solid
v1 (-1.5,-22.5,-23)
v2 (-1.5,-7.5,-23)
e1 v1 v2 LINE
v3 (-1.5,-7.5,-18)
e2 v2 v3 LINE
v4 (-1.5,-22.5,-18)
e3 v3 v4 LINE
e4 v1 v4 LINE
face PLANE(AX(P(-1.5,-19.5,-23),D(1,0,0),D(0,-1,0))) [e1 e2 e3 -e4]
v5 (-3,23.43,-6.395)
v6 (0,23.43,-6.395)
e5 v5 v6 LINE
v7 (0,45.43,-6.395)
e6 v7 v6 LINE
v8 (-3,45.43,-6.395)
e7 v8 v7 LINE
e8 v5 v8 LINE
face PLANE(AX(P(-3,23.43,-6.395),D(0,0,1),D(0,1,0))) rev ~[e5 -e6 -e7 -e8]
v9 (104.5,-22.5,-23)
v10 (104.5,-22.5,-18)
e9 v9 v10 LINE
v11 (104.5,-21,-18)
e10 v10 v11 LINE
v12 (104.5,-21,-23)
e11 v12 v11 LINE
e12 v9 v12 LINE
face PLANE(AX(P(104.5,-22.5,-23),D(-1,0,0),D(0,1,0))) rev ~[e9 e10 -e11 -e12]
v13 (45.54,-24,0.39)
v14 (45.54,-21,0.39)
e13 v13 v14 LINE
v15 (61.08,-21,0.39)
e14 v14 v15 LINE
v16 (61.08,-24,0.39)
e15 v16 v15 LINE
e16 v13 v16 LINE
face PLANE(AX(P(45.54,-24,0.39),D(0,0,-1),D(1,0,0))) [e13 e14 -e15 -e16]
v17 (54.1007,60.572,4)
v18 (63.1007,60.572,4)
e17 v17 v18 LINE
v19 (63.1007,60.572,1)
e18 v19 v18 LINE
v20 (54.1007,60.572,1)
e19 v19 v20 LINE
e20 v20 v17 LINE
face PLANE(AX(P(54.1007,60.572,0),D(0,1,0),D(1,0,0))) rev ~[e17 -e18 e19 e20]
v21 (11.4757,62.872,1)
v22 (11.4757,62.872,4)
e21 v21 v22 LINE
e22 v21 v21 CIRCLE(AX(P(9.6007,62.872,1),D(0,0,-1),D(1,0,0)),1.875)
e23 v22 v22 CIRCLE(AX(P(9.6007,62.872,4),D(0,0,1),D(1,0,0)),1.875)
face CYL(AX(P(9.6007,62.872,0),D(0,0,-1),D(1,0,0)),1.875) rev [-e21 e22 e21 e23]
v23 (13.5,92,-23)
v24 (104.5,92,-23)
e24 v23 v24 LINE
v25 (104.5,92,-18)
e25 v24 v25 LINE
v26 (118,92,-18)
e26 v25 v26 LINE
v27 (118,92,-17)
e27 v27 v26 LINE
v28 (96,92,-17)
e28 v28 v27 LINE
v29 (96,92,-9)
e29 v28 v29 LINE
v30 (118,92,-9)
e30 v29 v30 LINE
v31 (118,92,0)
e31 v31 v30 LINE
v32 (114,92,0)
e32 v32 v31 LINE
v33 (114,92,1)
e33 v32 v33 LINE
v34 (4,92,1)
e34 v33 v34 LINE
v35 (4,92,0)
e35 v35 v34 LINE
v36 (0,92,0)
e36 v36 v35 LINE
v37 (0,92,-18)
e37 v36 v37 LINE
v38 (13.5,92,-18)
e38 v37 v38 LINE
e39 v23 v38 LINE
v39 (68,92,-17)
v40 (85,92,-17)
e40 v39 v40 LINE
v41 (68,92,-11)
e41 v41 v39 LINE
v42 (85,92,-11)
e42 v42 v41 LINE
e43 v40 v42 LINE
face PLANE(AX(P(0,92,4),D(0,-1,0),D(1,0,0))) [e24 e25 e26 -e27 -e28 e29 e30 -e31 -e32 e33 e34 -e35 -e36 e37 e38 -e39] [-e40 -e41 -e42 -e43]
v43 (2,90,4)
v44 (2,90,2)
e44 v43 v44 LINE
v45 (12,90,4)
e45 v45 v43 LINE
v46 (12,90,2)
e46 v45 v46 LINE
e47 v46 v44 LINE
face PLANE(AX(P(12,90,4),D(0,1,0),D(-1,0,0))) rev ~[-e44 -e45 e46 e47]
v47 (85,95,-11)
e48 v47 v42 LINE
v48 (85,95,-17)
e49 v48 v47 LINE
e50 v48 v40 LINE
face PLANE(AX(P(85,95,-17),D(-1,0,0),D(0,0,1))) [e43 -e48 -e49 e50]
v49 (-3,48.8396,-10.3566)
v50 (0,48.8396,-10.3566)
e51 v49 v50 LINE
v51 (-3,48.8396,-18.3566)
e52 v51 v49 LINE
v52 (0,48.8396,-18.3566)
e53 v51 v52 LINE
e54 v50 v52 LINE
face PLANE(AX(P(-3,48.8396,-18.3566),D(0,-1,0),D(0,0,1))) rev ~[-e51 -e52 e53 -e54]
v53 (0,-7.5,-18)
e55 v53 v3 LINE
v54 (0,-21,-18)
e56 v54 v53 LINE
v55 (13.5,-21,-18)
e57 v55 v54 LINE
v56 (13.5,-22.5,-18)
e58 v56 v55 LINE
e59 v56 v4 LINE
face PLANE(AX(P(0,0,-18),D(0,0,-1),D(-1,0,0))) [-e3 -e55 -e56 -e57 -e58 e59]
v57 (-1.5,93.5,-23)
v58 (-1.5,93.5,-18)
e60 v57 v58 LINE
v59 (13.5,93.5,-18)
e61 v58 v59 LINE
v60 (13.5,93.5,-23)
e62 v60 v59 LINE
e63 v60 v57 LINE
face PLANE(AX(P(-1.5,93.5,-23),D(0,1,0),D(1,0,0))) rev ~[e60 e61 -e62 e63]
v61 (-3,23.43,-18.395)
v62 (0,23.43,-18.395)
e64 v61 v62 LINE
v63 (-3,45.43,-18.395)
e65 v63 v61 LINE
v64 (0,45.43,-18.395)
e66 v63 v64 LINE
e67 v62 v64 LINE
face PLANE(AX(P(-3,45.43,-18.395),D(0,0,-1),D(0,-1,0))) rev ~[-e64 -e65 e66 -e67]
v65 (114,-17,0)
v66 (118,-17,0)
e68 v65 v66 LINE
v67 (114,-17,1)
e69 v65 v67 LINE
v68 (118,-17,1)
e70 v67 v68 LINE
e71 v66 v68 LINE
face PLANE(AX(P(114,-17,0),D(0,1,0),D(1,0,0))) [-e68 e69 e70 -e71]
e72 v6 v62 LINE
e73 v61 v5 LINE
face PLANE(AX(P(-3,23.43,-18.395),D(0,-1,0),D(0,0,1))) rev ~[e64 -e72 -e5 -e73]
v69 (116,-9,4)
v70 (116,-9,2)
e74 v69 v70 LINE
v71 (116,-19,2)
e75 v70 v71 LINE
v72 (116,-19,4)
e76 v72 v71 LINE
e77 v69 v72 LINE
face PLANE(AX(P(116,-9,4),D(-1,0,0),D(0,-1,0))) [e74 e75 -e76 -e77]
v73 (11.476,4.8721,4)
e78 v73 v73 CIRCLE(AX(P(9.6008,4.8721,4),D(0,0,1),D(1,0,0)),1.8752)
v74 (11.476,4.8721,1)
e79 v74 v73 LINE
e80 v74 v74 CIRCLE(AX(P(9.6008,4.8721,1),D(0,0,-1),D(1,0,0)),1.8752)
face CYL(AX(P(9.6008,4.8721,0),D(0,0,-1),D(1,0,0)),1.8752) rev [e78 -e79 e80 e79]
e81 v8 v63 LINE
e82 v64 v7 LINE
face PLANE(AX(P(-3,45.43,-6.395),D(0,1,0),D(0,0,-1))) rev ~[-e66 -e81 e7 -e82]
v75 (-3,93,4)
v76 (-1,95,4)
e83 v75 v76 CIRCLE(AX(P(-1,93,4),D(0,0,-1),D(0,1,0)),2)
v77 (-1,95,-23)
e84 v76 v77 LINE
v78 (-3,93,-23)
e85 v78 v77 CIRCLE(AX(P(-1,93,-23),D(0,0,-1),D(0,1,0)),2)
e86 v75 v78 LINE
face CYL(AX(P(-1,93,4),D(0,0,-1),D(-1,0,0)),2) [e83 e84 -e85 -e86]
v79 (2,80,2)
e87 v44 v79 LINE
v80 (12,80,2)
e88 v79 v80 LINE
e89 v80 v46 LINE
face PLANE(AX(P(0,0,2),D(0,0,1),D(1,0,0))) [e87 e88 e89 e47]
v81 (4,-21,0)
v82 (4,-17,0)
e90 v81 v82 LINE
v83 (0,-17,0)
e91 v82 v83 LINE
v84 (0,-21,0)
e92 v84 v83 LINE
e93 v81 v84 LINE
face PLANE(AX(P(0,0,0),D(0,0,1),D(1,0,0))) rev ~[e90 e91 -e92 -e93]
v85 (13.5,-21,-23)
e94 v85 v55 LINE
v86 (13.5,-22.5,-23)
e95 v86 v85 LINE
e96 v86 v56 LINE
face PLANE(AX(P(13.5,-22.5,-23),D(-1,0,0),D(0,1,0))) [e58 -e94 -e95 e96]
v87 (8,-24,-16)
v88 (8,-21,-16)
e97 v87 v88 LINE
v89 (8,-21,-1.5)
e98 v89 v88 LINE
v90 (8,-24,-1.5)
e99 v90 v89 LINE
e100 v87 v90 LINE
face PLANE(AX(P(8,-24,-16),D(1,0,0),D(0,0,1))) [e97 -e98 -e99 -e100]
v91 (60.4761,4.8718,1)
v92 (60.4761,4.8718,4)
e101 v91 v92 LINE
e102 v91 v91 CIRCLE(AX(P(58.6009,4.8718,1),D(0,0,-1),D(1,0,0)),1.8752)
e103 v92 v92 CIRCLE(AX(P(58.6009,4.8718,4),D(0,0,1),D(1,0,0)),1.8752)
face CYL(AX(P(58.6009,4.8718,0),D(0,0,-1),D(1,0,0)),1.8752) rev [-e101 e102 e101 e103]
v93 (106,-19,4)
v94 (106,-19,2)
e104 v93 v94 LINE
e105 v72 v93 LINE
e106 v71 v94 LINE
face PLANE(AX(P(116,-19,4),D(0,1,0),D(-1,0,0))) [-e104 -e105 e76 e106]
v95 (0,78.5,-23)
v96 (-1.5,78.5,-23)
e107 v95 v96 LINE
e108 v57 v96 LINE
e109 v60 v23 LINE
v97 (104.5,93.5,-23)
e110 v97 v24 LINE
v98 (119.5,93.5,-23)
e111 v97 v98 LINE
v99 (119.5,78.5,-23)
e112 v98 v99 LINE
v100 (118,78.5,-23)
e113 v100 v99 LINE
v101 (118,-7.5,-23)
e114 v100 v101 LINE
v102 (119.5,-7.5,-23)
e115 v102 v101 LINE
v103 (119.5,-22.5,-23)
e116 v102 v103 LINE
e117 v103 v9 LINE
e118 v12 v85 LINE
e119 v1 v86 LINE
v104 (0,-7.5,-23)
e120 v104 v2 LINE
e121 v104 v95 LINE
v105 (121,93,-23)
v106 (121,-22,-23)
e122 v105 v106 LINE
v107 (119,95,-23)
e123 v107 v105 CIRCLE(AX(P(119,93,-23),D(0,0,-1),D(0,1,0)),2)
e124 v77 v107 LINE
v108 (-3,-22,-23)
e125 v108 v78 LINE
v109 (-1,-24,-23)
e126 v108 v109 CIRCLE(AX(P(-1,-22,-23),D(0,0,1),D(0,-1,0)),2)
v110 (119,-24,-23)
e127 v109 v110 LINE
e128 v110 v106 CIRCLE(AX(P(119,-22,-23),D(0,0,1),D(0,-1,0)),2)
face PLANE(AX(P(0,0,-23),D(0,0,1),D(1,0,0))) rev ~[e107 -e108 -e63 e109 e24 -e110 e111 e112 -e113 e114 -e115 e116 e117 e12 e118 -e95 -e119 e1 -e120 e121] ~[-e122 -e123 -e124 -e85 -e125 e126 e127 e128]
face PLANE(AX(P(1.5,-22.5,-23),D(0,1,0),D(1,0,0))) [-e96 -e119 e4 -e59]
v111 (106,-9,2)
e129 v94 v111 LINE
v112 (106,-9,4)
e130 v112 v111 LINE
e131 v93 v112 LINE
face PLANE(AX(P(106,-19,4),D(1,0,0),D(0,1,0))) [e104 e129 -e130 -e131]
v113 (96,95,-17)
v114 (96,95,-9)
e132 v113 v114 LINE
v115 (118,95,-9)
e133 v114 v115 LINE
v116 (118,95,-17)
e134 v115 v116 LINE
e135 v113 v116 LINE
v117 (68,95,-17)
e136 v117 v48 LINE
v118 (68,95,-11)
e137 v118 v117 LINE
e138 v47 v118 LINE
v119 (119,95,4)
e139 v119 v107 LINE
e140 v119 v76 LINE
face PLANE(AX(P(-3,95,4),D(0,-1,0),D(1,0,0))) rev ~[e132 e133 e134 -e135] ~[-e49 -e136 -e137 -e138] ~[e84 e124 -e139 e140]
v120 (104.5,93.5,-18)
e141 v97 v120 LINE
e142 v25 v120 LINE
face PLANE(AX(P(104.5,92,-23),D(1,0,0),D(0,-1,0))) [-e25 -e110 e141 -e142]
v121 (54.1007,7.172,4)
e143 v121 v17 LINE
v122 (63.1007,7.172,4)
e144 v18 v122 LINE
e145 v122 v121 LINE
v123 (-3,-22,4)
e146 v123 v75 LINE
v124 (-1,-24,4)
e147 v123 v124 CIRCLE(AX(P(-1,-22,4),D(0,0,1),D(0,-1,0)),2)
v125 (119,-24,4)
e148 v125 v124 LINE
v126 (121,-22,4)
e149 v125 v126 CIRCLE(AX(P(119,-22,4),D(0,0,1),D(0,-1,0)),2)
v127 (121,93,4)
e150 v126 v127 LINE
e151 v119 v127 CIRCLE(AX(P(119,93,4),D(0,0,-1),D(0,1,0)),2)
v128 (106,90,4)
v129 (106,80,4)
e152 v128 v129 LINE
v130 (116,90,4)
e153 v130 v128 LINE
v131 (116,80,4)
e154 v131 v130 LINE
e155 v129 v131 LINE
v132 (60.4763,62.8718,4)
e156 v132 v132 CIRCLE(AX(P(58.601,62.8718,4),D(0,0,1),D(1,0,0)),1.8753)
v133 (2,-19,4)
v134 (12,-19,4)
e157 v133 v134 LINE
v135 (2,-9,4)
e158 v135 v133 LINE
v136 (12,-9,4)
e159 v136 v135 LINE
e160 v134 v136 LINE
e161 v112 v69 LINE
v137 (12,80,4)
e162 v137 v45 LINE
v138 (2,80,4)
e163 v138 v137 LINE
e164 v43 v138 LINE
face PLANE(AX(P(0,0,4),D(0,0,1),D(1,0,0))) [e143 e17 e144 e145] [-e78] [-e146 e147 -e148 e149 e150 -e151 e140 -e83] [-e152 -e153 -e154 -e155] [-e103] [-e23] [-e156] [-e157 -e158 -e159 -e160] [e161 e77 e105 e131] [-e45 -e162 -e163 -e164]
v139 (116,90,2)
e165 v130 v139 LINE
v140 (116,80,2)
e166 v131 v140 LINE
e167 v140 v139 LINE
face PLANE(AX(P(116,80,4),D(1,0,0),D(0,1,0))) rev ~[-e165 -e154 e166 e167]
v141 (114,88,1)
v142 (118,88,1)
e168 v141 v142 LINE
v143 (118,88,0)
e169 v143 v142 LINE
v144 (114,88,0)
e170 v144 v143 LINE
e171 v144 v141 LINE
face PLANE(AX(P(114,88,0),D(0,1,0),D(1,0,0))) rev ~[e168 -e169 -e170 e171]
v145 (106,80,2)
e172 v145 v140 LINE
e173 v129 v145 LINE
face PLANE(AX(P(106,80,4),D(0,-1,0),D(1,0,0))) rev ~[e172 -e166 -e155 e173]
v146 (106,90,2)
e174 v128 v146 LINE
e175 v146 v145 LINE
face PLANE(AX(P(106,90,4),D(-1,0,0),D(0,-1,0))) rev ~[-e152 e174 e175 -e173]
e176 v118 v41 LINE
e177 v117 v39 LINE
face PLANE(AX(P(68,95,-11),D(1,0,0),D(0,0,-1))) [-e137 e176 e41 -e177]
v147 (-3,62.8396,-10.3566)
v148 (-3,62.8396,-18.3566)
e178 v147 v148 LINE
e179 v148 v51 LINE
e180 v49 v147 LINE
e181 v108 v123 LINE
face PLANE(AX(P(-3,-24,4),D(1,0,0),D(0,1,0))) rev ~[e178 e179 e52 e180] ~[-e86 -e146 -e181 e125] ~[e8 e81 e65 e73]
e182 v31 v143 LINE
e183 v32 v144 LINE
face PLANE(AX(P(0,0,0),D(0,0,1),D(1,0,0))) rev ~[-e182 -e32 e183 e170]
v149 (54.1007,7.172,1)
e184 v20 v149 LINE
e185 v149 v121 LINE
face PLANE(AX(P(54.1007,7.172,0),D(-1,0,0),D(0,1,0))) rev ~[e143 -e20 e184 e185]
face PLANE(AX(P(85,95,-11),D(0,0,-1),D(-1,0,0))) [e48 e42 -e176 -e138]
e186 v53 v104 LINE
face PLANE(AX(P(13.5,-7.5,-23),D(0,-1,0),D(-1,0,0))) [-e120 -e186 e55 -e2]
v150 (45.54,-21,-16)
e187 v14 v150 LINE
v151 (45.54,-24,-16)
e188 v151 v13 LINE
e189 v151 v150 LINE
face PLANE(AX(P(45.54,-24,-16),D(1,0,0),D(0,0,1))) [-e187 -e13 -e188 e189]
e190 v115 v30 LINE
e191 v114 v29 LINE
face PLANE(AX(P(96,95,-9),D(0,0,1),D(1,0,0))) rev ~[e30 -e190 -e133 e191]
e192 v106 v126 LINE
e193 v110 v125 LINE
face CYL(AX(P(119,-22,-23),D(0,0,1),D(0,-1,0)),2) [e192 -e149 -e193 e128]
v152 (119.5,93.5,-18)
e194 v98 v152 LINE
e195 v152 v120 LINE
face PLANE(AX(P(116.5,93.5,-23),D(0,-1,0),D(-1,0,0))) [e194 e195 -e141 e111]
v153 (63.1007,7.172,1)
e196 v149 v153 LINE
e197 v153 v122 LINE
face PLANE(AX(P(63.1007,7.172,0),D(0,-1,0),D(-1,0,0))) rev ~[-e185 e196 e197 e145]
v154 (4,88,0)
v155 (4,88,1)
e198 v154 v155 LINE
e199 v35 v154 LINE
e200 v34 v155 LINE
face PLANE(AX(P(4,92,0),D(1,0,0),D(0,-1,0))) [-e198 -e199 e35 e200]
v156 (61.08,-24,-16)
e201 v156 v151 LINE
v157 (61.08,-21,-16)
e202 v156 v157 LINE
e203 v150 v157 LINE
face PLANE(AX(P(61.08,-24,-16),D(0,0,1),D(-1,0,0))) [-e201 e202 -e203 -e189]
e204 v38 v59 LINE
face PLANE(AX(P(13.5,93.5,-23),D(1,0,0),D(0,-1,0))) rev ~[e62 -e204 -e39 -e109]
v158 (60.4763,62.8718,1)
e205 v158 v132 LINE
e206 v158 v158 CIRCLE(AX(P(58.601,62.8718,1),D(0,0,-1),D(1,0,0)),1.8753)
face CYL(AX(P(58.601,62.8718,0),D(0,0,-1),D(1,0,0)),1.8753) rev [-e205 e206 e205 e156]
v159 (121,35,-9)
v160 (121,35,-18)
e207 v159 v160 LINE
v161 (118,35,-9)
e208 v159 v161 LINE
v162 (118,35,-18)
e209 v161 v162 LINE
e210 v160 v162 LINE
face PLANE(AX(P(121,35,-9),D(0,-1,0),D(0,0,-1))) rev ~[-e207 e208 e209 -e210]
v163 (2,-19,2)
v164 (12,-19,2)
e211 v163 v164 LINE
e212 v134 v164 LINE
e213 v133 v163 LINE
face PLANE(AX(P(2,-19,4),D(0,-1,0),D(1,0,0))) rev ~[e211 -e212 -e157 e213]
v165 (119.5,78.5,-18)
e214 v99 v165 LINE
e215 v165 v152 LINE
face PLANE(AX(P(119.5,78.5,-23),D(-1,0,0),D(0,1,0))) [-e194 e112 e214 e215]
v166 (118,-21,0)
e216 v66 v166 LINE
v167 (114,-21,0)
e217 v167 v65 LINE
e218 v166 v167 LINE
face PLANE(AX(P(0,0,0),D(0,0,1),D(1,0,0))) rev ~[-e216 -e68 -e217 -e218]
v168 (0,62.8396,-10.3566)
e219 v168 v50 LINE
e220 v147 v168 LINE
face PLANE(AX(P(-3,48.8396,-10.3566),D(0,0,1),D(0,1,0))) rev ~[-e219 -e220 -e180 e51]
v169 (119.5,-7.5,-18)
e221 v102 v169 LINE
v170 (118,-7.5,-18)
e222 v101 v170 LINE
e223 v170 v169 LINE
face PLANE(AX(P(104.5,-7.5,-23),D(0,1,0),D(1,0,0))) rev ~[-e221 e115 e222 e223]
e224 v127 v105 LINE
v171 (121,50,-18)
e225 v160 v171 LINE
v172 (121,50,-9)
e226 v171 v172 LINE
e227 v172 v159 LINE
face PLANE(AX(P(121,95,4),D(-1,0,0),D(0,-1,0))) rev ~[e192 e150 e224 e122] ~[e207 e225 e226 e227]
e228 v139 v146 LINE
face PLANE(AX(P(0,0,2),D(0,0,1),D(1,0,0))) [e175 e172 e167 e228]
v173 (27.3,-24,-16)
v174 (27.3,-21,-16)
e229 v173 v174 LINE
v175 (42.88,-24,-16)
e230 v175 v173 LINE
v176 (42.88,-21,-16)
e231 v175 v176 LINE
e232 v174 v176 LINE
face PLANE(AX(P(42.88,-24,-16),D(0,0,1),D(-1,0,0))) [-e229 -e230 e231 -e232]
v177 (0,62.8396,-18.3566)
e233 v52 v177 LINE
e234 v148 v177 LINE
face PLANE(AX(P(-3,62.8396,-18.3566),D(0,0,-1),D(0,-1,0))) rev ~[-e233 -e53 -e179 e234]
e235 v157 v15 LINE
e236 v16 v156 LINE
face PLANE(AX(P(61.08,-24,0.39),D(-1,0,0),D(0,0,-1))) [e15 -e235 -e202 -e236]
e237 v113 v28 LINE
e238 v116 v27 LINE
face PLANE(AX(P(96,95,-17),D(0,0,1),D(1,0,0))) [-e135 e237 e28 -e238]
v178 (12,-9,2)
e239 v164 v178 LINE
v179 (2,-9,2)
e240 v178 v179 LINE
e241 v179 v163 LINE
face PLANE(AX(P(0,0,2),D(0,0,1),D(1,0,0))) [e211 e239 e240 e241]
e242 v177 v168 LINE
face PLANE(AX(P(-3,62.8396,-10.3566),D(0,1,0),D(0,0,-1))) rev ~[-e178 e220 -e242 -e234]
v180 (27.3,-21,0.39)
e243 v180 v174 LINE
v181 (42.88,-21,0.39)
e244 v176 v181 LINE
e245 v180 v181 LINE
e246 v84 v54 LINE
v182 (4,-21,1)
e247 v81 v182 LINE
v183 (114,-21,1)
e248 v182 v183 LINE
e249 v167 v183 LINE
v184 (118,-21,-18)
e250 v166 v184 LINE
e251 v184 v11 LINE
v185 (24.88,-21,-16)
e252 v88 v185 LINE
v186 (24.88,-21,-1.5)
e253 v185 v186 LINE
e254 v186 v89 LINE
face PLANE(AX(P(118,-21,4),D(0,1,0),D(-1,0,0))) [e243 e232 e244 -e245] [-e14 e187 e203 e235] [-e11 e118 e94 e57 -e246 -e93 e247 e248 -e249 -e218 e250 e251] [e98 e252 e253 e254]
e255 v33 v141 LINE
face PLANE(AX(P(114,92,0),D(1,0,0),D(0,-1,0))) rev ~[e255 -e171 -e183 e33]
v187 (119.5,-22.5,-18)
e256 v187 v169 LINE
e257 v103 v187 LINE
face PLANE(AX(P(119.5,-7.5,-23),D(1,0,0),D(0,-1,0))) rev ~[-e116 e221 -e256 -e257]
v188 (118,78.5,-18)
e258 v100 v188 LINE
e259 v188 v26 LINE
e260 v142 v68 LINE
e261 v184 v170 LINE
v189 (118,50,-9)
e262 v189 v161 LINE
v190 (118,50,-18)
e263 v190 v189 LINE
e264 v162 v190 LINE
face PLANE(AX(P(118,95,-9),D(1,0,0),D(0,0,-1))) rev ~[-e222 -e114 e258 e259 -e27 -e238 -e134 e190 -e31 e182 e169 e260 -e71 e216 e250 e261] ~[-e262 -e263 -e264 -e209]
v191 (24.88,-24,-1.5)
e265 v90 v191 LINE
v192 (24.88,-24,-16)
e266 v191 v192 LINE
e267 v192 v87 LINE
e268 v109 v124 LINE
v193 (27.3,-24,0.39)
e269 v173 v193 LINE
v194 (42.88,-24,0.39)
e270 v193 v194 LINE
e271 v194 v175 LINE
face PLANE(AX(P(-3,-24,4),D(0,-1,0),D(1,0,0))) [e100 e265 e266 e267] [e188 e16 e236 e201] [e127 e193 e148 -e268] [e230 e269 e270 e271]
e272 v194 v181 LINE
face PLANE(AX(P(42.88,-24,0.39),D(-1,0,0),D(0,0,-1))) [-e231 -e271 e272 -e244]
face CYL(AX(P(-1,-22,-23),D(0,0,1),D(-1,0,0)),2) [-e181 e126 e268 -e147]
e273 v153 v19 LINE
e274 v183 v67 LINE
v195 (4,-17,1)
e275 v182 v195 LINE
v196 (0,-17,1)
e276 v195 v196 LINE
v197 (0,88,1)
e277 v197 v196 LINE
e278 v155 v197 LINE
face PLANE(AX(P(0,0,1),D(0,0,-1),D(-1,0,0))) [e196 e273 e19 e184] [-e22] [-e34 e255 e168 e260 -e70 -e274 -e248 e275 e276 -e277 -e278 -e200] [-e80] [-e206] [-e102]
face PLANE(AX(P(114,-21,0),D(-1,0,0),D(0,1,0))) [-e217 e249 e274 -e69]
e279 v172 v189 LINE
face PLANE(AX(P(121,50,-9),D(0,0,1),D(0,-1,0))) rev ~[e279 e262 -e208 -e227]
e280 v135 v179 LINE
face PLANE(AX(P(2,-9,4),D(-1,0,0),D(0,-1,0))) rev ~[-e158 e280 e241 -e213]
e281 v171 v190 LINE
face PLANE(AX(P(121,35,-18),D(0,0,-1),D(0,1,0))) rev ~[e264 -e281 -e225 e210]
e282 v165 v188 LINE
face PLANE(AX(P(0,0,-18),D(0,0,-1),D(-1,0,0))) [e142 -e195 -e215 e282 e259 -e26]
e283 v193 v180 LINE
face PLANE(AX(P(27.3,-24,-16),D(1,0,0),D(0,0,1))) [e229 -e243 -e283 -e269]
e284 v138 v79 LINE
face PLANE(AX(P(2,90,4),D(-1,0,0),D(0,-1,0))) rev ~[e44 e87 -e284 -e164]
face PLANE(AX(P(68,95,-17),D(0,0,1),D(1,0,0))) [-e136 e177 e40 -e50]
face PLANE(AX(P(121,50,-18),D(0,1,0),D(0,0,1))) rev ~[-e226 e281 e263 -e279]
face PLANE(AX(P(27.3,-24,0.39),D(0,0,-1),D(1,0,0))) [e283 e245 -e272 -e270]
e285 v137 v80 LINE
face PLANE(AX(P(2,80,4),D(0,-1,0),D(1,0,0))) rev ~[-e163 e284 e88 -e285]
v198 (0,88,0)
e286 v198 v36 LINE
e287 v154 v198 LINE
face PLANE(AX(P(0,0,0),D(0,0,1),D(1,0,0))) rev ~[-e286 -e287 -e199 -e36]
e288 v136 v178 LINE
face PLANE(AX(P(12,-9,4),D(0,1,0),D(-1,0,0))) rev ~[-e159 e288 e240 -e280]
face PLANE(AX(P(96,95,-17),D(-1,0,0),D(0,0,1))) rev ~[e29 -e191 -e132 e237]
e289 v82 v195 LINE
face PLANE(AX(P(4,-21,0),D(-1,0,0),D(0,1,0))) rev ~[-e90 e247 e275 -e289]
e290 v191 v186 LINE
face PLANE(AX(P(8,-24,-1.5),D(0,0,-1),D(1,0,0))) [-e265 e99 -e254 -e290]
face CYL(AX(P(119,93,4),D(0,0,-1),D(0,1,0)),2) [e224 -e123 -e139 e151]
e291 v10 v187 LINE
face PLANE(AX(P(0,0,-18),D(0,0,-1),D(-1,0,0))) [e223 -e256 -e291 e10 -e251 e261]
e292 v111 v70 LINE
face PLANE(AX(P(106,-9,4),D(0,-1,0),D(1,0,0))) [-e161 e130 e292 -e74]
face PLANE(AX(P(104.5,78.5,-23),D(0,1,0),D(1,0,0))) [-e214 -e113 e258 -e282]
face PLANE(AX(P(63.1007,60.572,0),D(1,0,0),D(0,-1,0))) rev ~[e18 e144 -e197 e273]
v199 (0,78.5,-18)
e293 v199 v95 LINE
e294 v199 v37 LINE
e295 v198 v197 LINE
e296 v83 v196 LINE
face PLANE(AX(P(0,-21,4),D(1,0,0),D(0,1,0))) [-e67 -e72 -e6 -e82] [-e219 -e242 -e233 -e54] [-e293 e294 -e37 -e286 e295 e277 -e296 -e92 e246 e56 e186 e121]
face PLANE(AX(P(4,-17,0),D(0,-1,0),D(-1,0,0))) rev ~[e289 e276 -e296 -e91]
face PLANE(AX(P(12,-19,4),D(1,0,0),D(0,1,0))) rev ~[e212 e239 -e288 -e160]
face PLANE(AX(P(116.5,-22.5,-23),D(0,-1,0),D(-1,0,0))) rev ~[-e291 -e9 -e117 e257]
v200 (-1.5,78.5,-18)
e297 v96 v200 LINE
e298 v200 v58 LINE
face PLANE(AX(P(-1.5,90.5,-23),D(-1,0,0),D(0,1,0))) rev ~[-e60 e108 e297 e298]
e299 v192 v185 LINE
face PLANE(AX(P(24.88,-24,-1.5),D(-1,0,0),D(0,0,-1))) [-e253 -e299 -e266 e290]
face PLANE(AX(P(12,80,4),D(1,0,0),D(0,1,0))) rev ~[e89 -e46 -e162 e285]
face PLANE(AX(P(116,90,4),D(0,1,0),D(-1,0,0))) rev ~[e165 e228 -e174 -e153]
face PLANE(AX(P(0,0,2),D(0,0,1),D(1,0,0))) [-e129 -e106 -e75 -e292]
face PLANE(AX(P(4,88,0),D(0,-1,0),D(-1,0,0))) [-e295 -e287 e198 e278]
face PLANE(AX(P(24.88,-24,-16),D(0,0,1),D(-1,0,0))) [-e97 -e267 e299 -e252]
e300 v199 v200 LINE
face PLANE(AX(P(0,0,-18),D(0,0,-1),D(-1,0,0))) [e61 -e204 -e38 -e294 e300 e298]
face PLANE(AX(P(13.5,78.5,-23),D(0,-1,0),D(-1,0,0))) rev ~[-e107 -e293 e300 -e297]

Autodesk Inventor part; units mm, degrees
ref_plane "YZ Plane" through (0, 0, 0) normal (1, 0, 0) x (0, 1, 0)
ref_plane "XZ Plane" through (0, 0, 0) normal (0, 1, 0) x (-1, 0, 0)
ref_plane "XY Plane" through (0, 0, 0) normal (0, 0, 1) x (1, 0, 0)
sketch "Esquisse1" plane through (0, 0, 0) normal (0, 0, 1) x (1, 0, 0)
  line L0 (0, -47.8) -> (0, 118.8) projected
  line L1 (-27.8, 0) -> (145.8, 0) projected
  line L2 (0, 92) -> (105, 92)
  line L3 (105, 92) -> (105, 0)
  line L4 (105, 0) -> (0, 0)
  line L5 (0, 0) -> (0, 92)
  line L6 (56.1007, 59.272) -> (61.1007, 59.272)
  line L7 (61.1007, 59.272) -> (61.1007, 8.472)
  line L8 (61.1007, 8.472) -> (56.1007, 8.472)
  line L9 (56.1007, 8.472) -> (56.1007, 59.272)
  line L10 (0, 92) -> (118, 92)
  line L11 (118, 92) -> (118, -21)
  line L12 (118, -21) -> (0, -21)
  line L13 (0, -21) -> (0, 92)
  line L14 (54.1007, 60.572) -> (63.1007, 60.572)
  line L15 (63.1007, 60.572) -> (63.1007, 7.172)
  line L16 (63.1007, 7.172) -> (54.1007, 7.172)
  line L17 (54.1007, 7.172) -> (54.1007, 60.572)
  line L18 (-3, 95) -> (121, 95)
  line L19 (121, 95) -> (121, -24)
  line L20 (121, -24) -> (-3, -24)
  line L21 (-3, -24) -> (-3, 95)
  line L22 (0, 92) -> (118, 92)
  line L23 (118, 92) -> (118, -21)
  line L24 (118, -21) -> (0, -21)
  line L25 (0, -21) -> (0, 92)
  line L26 (57.2447, 8.472) -> (59.9567, 8.472) projected
  line L27 (59.9567, 59.272) -> (57.2447, 59.272) projected
  line L28 (56.1007, 33.3434) -> (56.1007, 31.8605) projected
  line L29 (61.1007, 31.8605) -> (61.1007, 33.3434) projected
  circle A0 centre (58.6009, 4.8718) radius 1.3752 projected
  circle A1 centre (58.601, 62.8718) radius 1.3753 projected
  circle A2 centre (9.6007, 62.872) radius 1.375 projected
  circle A3 centre (9.6008, 4.8721) radius 1.3752 projected
  circle A4 centre (9.6008, 4.8721) radius 1.8752
  circle A5 centre (9.6007, 62.872) radius 1.875
  circle A6 centre (58.601, 62.8718) radius 1.8753
  circle A7 centre (58.6009, 4.8718) radius 1.8752
  point P0 (0, 0)
  point P1 (58.6007, 59.272)
  dimension "d0" = 92
  dimension "d1" = 105
  dimension "d6" = 13
  dimension "d7" = 21
  dimension "d8" = 2
  dimension "d9" = 1.3
  dimension "d11" = 1.3
  dimension "d12" = 3
  dimension "d13" = 3
  dimension "d14" = 3
  dimension "d15" = 3
  dimension "d77" = 2
  dimension "d78" = 0.5
  dimension "d79" = 0.5
  dimension "d80" = 0.5
  dimension "d81" = 0.5
extrude "Extrusion1" add sketch "Esquisse1" along normal blind 4 contours L0 L20 L21 L1 | L12 L11 L1 L19 L20 L0 | L0 L1 L11 L12 | L1 L21 L18 L0 | L0 L2 L3 L1 | L0 L18 L19 L1 L11 L10 L2 | L3 L10 L11 L1
sketch "Esquisse2" plane through (0, 0, 4) normal (0, 0, 1) x (1, 0, 0)
  line L0 (-3, -24) -> (121, -24) projected
  line L1 (-3, 95) -> (121, 95)
  line L2 (121, 95) -> (121, -24)
  line L3 (121, -24) -> (-3, -24)
  line L4 (-3, -24) -> (-3, 95)
  line L5 (0, 92) -> (118, 92)
  line L6 (118, 92) -> (118, -21)
  line L7 (118, -21) -> (0, -21)
  line L8 (0, -21) -> (0, 92)
  point P0 (0, 0)
  dimension "d18" = 3
  dimension "d19" = 3
  dimension "d20" = 3
  dimension "d21" = 3
extrude "Extrusion2" add sketch "Esquisse2" against normal blind 27
sketch "Esquisse4" plane through (-3, -24, 4) normal (0, -1, 0) x (1, 0, 0)
  line L0 (27.38, -19.5) -> (27.38, -6) construction
  line L1 (27.38, -6) -> (11.5, -6) construction
  line L2 (11.5, -6) -> (11.5, -19.5) construction
  line L3 (62.1007, -19.5) -> (12.1007, -19.5) construction
  line L4 (9.1005, -19.5) -> (15.101, -19.5) construction
  line L5 (41.19, -4.01) -> (35.19, -4.01) construction
  line L6 (44.5455, -4.11) -> (31.8345, -4.11) construction
  line L7 (41.19, -2.5351) -> (41.19, -5.6849) construction
  line L8 (35.19, -5.6849) -> (35.19, -2.5351) construction
  circle A0 centre (31.94, -4.51) radius 0.4 construction
  line L9 (31.54, -4.4044) -> (31.54, -9.4204) construction
  line L10 (31.3, -5.5007) -> (31.3, -19.2199) construction
  line L11 (31.3, -5.3465) -> (31.3, -5.5636) construction
  line L12 (31.7209, -4.66) -> (31.5122, -4.66) construction
  line L13 (31.7172, -4.66) -> (31.5053, -4.66) construction
  line L14 (30.64, -9.7204) -> (30.64, -12.7204) construction
  line L15 (30.64, -12.7204) -> (31.3599, -12.7204) construction
  line L16 (31.322, -9.7204) -> (30.64, -9.7204) construction
  line L17 (44.44, -9.27) -> (44.44, -14.39) construction
  line L18 (63.74, -12.7204) -> (63.74, -9.7204) construction
  line L19 (63.08, -19.182) -> (63.08, -5.5251) construction
  line L20 (60.2447, -19.5) -> (62.9567, -19.5) construction
  line L21 (63.08, -18.9857) -> (63.08, -19.517) construction
  line L22 (59.1017, -19.5) -> (65.1003, -19.5) construction
  line L23 (63.08, -4.6635) -> (63.08, -6.647) construction
  circle A1 centre (62.4398, -4.5101) radius 0.4002 construction
  line L24 (62.84, -9.4204) -> (62.84, -4.4044) construction
  line L25 (62.8795, -4.66) -> (62.5088, -4.66) construction
  line L26 (63.08, -4.6726) -> (63.08, -4.66) construction
  line L27 (62.5455, -4.11) -> (49.8345, -4.11) construction
  circle A2 centre (49.94, -4.51) radius 0.4 construction
  line L28 (49.54, -4.4044) -> (49.54, -9.4204) construction
  line L29 (64.08, -20) -> (48.54, -20)
  line L30 (48.54, -20) -> (48.54, -3.61)
  line L31 (48.54, -3.61) -> (64.08, -3.61)
  line L32 (64.08, -3.61) -> (64.08, -20)
  line L33 (45.88, -20) -> (30.3, -20)
  line L34 (30.3, -20) -> (30.3, -3.61)
  line L35 (30.3, -3.61) -> (45.88, -3.61)
  line L36 (45.88, -3.61) -> (45.88, -20)
  line L37 (44.88, -5.5659) -> (44.88, -19.1471) projected
  line L38 (27.88, -20) -> (11, -20) construction
  line L39 (11, -20) -> (11, -5.5) construction
  line L40 (11, -5.5) -> (27.88, -5.5) construction
  line L41 (27.88, -5.5) -> (27.88, -20) construction
  line L42 (27.88, -20) -> (11, -20)
  line L43 (11, -20) -> (11, -5.5)
  line L44 (11, -5.5) -> (27.88, -5.5)
  line L45 (27.88, -5.5) -> (27.88, -20)
  point P0 (3, -4)
  dimension "d52" = 0.5
  dimension "d53" = 1
  dimension "d54" = 0.5
  dimension "d55" = 1
  dimension "d56" = 1
  dimension "d57" = 1
  dimension "d59" = 0.5
  dimension "d60" = 0.5
  dimension "d61" = 0.5
  dimension "d62" = 0.5
  dimension "d63" = 0.5
  dimension "d64" = 0.5
extrude "Extrusion4" cut sketch "Esquisse4" against normal blind 27
sketch "Esquisse5" plane through (-3, -24, 4) normal (-1, 0, 0) x (0, 0, 1)
  line L0 (-13.62, 51.6049) -> (-13.62, 65.2689) projected
  line L1 (-19.17, 63.3546) -> (-19.17, 58.0099) projected
  line L2 (-19.17, 57.98) -> (-19.17, 53.5054) projected
  line L3 (-16.9746, 76.7653) -> (-16.9746, 82.8881) projected
  line L4 (-19.7386, 82.3643) -> (-19.7386, 79.9819) projected
  line L5 (-19.7386, 79.6728) -> (-19.7386, 77.3076) projected
  line L6 (-17.0251, 50.93) -> (-14.2949, 50.93) projected
  line L7 (-14.2811, 65.93) -> (-17.0251, 65.93) projected
  line L8 (-18.2776, 75.8396) -> (-17.9619, 75.8396) projected
  line L9 (-17.9553, 83.8204) -> (-18.271, 83.8204) projected
  line L10 (-22.395, 47.43) -> (-10.395, 47.43)
  line L11 (-10.395, 47.43) -> (-10.395, 69.43)
  line L12 (-10.395, 69.43) -> (-22.395, 69.43)
  line L13 (-22.395, 69.43) -> (-22.395, 47.43)
  line L14 (-22.3566, 72.8396) -> (-14.3566, 72.8396)
  line L15 (-14.3566, 72.8396) -> (-14.3566, 86.8396)
  line L16 (-14.3566, 86.8396) -> (-22.3566, 86.8396)
  line L17 (-22.3566, 86.8396) -> (-22.3566, 72.8396)
  point P0 (-4, 24)
  point P1 (-16.395, 69.43)
  point P2 (-18.1197, 75.8396)
  dimension "d67" = 22
  dimension "d68" = 12
  dimension "d69" = 3.225
  dimension "d70" = 3.5
  dimension "d71" = 14
  dimension "d72" = 8
  dimension "d73" = 2.618
  dimension "d74" = 3
extrude "Extrusion5" cut sketch "Esquisse5" against normal blind 27
sketch "Esquisse6" plane through (-3, 95, 4) normal (0, 1, 0) x (1, 0, 0)
  line L0 (121, 4) -> (121, 27) projected
  line L1 (121, 27) -> (121, 0)
  line L2 (124, 0) -> (0, 0) projected
  line L3 (3, 4) -> (121, 4) projected
  line L4 (121, 4) -> (71, 4)
  line L5 (71, 4) -> (71, 21)
  line L6 (71, 21) -> (121, 21)
  line L7 (121, 21) -> (121, 4)
  line L8 (71, 21) -> (88, 21)
  line L9 (88, 21) -> (88, 15)
  line L10 (88, 15) -> (71, 15)
  line L11 (71, 15) -> (71, 21)
  line L12 (121, 21) -> (99, 21)
  line L13 (99, 21) -> (99, 13)
  line L14 (99, 13) -> (121, 13)
  line L15 (121, 13) -> (121, 21)
  point P0 (71, 12.5)
  point P1 (99, 21)
  point P2 (88, 21)
  dimension "d82" = 50
  dimension "d83" = 17
  dimension "d84" = 8
  dimension "d85" = 22
  dimension "d86" = 17
  dimension "d87" = 6
extrude "Extrusion6" cut sketch "Esquisse6" against normal blind 3 contours L14 L13 L6 L0 | L5 L6 L9 L10
sketch "Esquisse7" plane through (121, -24, 4) normal (1, 0, 0) x (0, 0, -1)
  line L0 (22, 74) -> (13, 74)
  line L1 (13, 59) -> (22, 59)
  line L2 (22, 59) -> (22, 74)
  line L3 (0, 119) -> (27, 119) projected
  line L4 (13, 74) -> (13, 59)
  line L5 (0, 0) -> (0, 119) projected
  point P0 (4, 24)
  point P1 (13, 66.5)
  dimension "d90" = 60
  dimension "d91" = 45
  dimension "d92" = 13
  dimension "d93" = 9
extrude "Extrusion7" cut sketch "Esquisse7" against normal blind 3
sketch "Esquisse8" plane through (0, 0, -23) normal (0, 0, -1) x (-1, 0, 0)
  line L0 (-1.5, 90.5) -> (1.5, 90.5)
  line L1 (1.5, 90.5) -> (1.5, 93.5)
  line L2 (1.5, 93.5) -> (-1.5, 93.5)
  line L3 (-1.5, 93.5) -> (-1.5, 90.5)
  line L4 (-118, 92) -> (0, 92) projected
  line L5 (-1.5, 90.5) -> (1.5, 93.5) construction
  line L6 (1.5, 90.5) -> (-1.5, 93.5) construction
  line L7 (-1.5, -19.5) -> (1.5, -19.5)
  line L8 (1.5, -19.5) -> (1.5, -22.5)
  line L9 (1.5, -22.5) -> (-1.5, -22.5)
  line L10 (-1.5, -22.5) -> (-1.5, -19.5)
  line L11 (-1.5, -19.5) -> (1.5, -22.5) construction
  line L12 (1.5, -19.5) -> (-1.5, -22.5) construction
  line L13 (-116.5, 93.5) -> (-119.5, 93.5)
  line L14 (-119.5, 93.5) -> (-119.5, 90.5)
  line L15 (-119.5, 90.5) -> (-116.5, 90.5)
  line L16 (-116.5, 90.5) -> (-116.5, 93.5)
  line L17 (-118, -21) -> (-118, 92) projected
  line L18 (-116.5, 93.5) -> (-119.5, 90.5) construction
  line L19 (-119.5, 93.5) -> (-116.5, 90.5) construction
  line L20 (-119.5, -19.5) -> (-116.5, -19.5)
  line L21 (-116.5, -19.5) -> (-116.5, -22.5)
  line L22 (-116.5, -22.5) -> (-119.5, -22.5)
  line L23 (-119.5, -22.5) -> (-119.5, -19.5)
  line L24 (-119.5, -19.5) -> (-116.5, -22.5) construction
  line L25 (-116.5, -19.5) -> (-119.5, -22.5) construction
  line L26 (1.5, 93.5) -> (-13.5, 93.5)
  line L27 (-13.5, 93.5) -> (-13.5, 78.5)
  line L28 (-13.5, 78.5) -> (1.5, 78.5)
  line L29 (1.5, 78.5) -> (1.5, 93.5)
  line L30 (1.5, -22.5) -> (-13.5, -22.5)
  line L31 (-13.5, -22.5) -> (-13.5, -7.5)
  line L32 (-13.5, -7.5) -> (1.5, -7.5)
  line L33 (1.5, -7.5) -> (1.5, -22.5)
  line L34 (-119.5, -22.5) -> (-104.5, -22.5)
  line L35 (-104.5, -22.5) -> (-104.5, -7.5)
  line L36 (-104.5, -7.5) -> (-119.5, -7.5)
  line L37 (-119.5, -7.5) -> (-119.5, -22.5)
  line L38 (-119.5, 93.5) -> (-104.5, 93.5)
  line L39 (-104.5, 93.5) -> (-104.5, 78.5)
  line L40 (-104.5, 78.5) -> (-119.5, 78.5)
  line L41 (-119.5, 78.5) -> (-119.5, 93.5)
  point P0 (0, 0)
  point P1 (0, -21)
  point P2 (-118, 78.5)
  point P3 (-104.5, 92)
  point P4 (-116.5, 92)
  point P5 (-118, 90.5)
  point P6 (-118, -7.5)
  point P7 (-118, -19.5)
  point P8 (1.5, 90.5)
  point P9 (-1.5, 92)
  point P10 (-13.5, 92)
  point P11 (-1.5, 93.5)
  dimension "d96" = 3
  dimension "d97" = 3
  dimension "d98" = 3
  dimension "d99" = 3
  dimension "d100" = 3
  dimension "d101" = 3
  dimension "d102" = 3
  dimension "d105" = 15
  dimension "d106" = 15
  dimension "d107" = 15
  dimension "d108" = 15
  dimension "d109" = 15
extrude "Extrusion8" cut sketch "Esquisse8" against normal blind 5
sketch "Esquisse10" plane through (0, 0, 0) normal (0, 0, -1) x (-1, 0, 0)
  line L0 (0, -21) -> (0, -7.5) projected
  line L1 (0, -21) -> (-4, -21)
  line L2 (-4, -21) -> (-4, -17)
  line L3 (-4, -17) -> (0, -17)
  line L4 (0, -17) -> (0, -21)
  line L5 (-118, -21) -> (-61.08, -21) projected
  line L6 (-118, -21) -> (-114, -21)
  line L7 (-114, -21) -> (-114, -17)
  line L8 (-114, -17) -> (-118, -17)
  line L9 (-118, -17) -> (-118, -21)
  line L10 (0, -21) -> (0, 92) projected
  line L11 (0, 92) -> (-4, 92)
  line L12 (-4, 92) -> (-4, 88)
  line L13 (-4, 88) -> (0, 88)
  line L14 (0, 88) -> (0, 92)
  line L15 (-118, 92) -> (-118, -21) projected
  line L16 (-118, 92) -> (-114, 92)
  line L17 (-114, 92) -> (-114, 88)
  line L18 (-114, 88) -> (-118, 88)
  line L19 (-118, 88) -> (-118, 92)
  line L20 (0, -21) -> (-118, -21)
  line L21 (-118, -21) -> (-118, 92)
  line L22 (-118, 92) -> (0, 92)
  line L23 (0, 92) -> (0, -21)
  point P0 (0, 0)
  point P1 (0, -17)
  dimension "d119" = 4
  dimension "d120" = 4
  dimension "d121" = 4
  dimension "d122" = 4
  dimension "d123" = 4
  dimension "d124" = 4
  dimension "d125" = 4
  dimension "d126" = 4
extrude "Extrusion10" cut sketch "Esquisse10" against normal blind 1 contours L3 L2 L20 L5 L7 L8 L15 L18 L17 L22 L12 L13 L10 L0
fillet "Congé1" radius 2 4 edges at (-3, -24, -9.5) (121, -24, -9.5) (-3, 95, -9.5) (121, 95, -9.5)
sketch "Esquisse11" plane through (0, 0, 4) normal (0, 0, 1) x (1, 0, 0)
  line L0 (106, 80) -> (116, 80)
  line L1 (116, 80) -> (116, 90)
  line L2 (116, 90) -> (106, 90)
  line L3 (106, 90) -> (106, 80)
  line L4 (119, 95) -> (-1, 95) projected
  line L5 (121, -22) -> (121, 93) projected
  line L6 (116, -19) -> (106, -19)
  line L7 (106, -19) -> (106, -9)
  line L8 (106, -9) -> (116, -9)
  line L9 (116, -9) -> (116, -19)
  line L10 (-1, -24) -> (119, -24) projected
  line L11 (12, -9) -> (2, -9)
  line L12 (2, -9) -> (2, -19)
  line L13 (2, -19) -> (12, -19)
  line L14 (12, -19) -> (12, -9)
  line L15 (-3, 93) -> (-3, -22) projected
  line L16 (12, 90) -> (2, 90)
  line L17 (2, 90) -> (2, 80)
  line L18 (2, 80) -> (12, 80)
  line L19 (12, 80) -> (12, 90)
  point P0 (0, 0)
  point P1 (111, 90)
  point P2 (111, -19)
  dimension "d130" = 10
  dimension "d131" = 10
  dimension "d132" = 5
  dimension "d133" = 5
  dimension "d134" = 10
  dimension "d135" = 10
  dimension "d136" = 5
  dimension "d137" = 5
  dimension "d138" = 10
  dimension "d139" = 10
  dimension "d140" = 5
  dimension "d141" = 5
  dimension "d142" = 5
  dimension "d143" = 10
  dimension "d144" = 10
  dimension "d145" = 5
extrude "Extrusion11" cut sketch "Esquisse11" against normal blind 2
properties part number "coque_RPI"
